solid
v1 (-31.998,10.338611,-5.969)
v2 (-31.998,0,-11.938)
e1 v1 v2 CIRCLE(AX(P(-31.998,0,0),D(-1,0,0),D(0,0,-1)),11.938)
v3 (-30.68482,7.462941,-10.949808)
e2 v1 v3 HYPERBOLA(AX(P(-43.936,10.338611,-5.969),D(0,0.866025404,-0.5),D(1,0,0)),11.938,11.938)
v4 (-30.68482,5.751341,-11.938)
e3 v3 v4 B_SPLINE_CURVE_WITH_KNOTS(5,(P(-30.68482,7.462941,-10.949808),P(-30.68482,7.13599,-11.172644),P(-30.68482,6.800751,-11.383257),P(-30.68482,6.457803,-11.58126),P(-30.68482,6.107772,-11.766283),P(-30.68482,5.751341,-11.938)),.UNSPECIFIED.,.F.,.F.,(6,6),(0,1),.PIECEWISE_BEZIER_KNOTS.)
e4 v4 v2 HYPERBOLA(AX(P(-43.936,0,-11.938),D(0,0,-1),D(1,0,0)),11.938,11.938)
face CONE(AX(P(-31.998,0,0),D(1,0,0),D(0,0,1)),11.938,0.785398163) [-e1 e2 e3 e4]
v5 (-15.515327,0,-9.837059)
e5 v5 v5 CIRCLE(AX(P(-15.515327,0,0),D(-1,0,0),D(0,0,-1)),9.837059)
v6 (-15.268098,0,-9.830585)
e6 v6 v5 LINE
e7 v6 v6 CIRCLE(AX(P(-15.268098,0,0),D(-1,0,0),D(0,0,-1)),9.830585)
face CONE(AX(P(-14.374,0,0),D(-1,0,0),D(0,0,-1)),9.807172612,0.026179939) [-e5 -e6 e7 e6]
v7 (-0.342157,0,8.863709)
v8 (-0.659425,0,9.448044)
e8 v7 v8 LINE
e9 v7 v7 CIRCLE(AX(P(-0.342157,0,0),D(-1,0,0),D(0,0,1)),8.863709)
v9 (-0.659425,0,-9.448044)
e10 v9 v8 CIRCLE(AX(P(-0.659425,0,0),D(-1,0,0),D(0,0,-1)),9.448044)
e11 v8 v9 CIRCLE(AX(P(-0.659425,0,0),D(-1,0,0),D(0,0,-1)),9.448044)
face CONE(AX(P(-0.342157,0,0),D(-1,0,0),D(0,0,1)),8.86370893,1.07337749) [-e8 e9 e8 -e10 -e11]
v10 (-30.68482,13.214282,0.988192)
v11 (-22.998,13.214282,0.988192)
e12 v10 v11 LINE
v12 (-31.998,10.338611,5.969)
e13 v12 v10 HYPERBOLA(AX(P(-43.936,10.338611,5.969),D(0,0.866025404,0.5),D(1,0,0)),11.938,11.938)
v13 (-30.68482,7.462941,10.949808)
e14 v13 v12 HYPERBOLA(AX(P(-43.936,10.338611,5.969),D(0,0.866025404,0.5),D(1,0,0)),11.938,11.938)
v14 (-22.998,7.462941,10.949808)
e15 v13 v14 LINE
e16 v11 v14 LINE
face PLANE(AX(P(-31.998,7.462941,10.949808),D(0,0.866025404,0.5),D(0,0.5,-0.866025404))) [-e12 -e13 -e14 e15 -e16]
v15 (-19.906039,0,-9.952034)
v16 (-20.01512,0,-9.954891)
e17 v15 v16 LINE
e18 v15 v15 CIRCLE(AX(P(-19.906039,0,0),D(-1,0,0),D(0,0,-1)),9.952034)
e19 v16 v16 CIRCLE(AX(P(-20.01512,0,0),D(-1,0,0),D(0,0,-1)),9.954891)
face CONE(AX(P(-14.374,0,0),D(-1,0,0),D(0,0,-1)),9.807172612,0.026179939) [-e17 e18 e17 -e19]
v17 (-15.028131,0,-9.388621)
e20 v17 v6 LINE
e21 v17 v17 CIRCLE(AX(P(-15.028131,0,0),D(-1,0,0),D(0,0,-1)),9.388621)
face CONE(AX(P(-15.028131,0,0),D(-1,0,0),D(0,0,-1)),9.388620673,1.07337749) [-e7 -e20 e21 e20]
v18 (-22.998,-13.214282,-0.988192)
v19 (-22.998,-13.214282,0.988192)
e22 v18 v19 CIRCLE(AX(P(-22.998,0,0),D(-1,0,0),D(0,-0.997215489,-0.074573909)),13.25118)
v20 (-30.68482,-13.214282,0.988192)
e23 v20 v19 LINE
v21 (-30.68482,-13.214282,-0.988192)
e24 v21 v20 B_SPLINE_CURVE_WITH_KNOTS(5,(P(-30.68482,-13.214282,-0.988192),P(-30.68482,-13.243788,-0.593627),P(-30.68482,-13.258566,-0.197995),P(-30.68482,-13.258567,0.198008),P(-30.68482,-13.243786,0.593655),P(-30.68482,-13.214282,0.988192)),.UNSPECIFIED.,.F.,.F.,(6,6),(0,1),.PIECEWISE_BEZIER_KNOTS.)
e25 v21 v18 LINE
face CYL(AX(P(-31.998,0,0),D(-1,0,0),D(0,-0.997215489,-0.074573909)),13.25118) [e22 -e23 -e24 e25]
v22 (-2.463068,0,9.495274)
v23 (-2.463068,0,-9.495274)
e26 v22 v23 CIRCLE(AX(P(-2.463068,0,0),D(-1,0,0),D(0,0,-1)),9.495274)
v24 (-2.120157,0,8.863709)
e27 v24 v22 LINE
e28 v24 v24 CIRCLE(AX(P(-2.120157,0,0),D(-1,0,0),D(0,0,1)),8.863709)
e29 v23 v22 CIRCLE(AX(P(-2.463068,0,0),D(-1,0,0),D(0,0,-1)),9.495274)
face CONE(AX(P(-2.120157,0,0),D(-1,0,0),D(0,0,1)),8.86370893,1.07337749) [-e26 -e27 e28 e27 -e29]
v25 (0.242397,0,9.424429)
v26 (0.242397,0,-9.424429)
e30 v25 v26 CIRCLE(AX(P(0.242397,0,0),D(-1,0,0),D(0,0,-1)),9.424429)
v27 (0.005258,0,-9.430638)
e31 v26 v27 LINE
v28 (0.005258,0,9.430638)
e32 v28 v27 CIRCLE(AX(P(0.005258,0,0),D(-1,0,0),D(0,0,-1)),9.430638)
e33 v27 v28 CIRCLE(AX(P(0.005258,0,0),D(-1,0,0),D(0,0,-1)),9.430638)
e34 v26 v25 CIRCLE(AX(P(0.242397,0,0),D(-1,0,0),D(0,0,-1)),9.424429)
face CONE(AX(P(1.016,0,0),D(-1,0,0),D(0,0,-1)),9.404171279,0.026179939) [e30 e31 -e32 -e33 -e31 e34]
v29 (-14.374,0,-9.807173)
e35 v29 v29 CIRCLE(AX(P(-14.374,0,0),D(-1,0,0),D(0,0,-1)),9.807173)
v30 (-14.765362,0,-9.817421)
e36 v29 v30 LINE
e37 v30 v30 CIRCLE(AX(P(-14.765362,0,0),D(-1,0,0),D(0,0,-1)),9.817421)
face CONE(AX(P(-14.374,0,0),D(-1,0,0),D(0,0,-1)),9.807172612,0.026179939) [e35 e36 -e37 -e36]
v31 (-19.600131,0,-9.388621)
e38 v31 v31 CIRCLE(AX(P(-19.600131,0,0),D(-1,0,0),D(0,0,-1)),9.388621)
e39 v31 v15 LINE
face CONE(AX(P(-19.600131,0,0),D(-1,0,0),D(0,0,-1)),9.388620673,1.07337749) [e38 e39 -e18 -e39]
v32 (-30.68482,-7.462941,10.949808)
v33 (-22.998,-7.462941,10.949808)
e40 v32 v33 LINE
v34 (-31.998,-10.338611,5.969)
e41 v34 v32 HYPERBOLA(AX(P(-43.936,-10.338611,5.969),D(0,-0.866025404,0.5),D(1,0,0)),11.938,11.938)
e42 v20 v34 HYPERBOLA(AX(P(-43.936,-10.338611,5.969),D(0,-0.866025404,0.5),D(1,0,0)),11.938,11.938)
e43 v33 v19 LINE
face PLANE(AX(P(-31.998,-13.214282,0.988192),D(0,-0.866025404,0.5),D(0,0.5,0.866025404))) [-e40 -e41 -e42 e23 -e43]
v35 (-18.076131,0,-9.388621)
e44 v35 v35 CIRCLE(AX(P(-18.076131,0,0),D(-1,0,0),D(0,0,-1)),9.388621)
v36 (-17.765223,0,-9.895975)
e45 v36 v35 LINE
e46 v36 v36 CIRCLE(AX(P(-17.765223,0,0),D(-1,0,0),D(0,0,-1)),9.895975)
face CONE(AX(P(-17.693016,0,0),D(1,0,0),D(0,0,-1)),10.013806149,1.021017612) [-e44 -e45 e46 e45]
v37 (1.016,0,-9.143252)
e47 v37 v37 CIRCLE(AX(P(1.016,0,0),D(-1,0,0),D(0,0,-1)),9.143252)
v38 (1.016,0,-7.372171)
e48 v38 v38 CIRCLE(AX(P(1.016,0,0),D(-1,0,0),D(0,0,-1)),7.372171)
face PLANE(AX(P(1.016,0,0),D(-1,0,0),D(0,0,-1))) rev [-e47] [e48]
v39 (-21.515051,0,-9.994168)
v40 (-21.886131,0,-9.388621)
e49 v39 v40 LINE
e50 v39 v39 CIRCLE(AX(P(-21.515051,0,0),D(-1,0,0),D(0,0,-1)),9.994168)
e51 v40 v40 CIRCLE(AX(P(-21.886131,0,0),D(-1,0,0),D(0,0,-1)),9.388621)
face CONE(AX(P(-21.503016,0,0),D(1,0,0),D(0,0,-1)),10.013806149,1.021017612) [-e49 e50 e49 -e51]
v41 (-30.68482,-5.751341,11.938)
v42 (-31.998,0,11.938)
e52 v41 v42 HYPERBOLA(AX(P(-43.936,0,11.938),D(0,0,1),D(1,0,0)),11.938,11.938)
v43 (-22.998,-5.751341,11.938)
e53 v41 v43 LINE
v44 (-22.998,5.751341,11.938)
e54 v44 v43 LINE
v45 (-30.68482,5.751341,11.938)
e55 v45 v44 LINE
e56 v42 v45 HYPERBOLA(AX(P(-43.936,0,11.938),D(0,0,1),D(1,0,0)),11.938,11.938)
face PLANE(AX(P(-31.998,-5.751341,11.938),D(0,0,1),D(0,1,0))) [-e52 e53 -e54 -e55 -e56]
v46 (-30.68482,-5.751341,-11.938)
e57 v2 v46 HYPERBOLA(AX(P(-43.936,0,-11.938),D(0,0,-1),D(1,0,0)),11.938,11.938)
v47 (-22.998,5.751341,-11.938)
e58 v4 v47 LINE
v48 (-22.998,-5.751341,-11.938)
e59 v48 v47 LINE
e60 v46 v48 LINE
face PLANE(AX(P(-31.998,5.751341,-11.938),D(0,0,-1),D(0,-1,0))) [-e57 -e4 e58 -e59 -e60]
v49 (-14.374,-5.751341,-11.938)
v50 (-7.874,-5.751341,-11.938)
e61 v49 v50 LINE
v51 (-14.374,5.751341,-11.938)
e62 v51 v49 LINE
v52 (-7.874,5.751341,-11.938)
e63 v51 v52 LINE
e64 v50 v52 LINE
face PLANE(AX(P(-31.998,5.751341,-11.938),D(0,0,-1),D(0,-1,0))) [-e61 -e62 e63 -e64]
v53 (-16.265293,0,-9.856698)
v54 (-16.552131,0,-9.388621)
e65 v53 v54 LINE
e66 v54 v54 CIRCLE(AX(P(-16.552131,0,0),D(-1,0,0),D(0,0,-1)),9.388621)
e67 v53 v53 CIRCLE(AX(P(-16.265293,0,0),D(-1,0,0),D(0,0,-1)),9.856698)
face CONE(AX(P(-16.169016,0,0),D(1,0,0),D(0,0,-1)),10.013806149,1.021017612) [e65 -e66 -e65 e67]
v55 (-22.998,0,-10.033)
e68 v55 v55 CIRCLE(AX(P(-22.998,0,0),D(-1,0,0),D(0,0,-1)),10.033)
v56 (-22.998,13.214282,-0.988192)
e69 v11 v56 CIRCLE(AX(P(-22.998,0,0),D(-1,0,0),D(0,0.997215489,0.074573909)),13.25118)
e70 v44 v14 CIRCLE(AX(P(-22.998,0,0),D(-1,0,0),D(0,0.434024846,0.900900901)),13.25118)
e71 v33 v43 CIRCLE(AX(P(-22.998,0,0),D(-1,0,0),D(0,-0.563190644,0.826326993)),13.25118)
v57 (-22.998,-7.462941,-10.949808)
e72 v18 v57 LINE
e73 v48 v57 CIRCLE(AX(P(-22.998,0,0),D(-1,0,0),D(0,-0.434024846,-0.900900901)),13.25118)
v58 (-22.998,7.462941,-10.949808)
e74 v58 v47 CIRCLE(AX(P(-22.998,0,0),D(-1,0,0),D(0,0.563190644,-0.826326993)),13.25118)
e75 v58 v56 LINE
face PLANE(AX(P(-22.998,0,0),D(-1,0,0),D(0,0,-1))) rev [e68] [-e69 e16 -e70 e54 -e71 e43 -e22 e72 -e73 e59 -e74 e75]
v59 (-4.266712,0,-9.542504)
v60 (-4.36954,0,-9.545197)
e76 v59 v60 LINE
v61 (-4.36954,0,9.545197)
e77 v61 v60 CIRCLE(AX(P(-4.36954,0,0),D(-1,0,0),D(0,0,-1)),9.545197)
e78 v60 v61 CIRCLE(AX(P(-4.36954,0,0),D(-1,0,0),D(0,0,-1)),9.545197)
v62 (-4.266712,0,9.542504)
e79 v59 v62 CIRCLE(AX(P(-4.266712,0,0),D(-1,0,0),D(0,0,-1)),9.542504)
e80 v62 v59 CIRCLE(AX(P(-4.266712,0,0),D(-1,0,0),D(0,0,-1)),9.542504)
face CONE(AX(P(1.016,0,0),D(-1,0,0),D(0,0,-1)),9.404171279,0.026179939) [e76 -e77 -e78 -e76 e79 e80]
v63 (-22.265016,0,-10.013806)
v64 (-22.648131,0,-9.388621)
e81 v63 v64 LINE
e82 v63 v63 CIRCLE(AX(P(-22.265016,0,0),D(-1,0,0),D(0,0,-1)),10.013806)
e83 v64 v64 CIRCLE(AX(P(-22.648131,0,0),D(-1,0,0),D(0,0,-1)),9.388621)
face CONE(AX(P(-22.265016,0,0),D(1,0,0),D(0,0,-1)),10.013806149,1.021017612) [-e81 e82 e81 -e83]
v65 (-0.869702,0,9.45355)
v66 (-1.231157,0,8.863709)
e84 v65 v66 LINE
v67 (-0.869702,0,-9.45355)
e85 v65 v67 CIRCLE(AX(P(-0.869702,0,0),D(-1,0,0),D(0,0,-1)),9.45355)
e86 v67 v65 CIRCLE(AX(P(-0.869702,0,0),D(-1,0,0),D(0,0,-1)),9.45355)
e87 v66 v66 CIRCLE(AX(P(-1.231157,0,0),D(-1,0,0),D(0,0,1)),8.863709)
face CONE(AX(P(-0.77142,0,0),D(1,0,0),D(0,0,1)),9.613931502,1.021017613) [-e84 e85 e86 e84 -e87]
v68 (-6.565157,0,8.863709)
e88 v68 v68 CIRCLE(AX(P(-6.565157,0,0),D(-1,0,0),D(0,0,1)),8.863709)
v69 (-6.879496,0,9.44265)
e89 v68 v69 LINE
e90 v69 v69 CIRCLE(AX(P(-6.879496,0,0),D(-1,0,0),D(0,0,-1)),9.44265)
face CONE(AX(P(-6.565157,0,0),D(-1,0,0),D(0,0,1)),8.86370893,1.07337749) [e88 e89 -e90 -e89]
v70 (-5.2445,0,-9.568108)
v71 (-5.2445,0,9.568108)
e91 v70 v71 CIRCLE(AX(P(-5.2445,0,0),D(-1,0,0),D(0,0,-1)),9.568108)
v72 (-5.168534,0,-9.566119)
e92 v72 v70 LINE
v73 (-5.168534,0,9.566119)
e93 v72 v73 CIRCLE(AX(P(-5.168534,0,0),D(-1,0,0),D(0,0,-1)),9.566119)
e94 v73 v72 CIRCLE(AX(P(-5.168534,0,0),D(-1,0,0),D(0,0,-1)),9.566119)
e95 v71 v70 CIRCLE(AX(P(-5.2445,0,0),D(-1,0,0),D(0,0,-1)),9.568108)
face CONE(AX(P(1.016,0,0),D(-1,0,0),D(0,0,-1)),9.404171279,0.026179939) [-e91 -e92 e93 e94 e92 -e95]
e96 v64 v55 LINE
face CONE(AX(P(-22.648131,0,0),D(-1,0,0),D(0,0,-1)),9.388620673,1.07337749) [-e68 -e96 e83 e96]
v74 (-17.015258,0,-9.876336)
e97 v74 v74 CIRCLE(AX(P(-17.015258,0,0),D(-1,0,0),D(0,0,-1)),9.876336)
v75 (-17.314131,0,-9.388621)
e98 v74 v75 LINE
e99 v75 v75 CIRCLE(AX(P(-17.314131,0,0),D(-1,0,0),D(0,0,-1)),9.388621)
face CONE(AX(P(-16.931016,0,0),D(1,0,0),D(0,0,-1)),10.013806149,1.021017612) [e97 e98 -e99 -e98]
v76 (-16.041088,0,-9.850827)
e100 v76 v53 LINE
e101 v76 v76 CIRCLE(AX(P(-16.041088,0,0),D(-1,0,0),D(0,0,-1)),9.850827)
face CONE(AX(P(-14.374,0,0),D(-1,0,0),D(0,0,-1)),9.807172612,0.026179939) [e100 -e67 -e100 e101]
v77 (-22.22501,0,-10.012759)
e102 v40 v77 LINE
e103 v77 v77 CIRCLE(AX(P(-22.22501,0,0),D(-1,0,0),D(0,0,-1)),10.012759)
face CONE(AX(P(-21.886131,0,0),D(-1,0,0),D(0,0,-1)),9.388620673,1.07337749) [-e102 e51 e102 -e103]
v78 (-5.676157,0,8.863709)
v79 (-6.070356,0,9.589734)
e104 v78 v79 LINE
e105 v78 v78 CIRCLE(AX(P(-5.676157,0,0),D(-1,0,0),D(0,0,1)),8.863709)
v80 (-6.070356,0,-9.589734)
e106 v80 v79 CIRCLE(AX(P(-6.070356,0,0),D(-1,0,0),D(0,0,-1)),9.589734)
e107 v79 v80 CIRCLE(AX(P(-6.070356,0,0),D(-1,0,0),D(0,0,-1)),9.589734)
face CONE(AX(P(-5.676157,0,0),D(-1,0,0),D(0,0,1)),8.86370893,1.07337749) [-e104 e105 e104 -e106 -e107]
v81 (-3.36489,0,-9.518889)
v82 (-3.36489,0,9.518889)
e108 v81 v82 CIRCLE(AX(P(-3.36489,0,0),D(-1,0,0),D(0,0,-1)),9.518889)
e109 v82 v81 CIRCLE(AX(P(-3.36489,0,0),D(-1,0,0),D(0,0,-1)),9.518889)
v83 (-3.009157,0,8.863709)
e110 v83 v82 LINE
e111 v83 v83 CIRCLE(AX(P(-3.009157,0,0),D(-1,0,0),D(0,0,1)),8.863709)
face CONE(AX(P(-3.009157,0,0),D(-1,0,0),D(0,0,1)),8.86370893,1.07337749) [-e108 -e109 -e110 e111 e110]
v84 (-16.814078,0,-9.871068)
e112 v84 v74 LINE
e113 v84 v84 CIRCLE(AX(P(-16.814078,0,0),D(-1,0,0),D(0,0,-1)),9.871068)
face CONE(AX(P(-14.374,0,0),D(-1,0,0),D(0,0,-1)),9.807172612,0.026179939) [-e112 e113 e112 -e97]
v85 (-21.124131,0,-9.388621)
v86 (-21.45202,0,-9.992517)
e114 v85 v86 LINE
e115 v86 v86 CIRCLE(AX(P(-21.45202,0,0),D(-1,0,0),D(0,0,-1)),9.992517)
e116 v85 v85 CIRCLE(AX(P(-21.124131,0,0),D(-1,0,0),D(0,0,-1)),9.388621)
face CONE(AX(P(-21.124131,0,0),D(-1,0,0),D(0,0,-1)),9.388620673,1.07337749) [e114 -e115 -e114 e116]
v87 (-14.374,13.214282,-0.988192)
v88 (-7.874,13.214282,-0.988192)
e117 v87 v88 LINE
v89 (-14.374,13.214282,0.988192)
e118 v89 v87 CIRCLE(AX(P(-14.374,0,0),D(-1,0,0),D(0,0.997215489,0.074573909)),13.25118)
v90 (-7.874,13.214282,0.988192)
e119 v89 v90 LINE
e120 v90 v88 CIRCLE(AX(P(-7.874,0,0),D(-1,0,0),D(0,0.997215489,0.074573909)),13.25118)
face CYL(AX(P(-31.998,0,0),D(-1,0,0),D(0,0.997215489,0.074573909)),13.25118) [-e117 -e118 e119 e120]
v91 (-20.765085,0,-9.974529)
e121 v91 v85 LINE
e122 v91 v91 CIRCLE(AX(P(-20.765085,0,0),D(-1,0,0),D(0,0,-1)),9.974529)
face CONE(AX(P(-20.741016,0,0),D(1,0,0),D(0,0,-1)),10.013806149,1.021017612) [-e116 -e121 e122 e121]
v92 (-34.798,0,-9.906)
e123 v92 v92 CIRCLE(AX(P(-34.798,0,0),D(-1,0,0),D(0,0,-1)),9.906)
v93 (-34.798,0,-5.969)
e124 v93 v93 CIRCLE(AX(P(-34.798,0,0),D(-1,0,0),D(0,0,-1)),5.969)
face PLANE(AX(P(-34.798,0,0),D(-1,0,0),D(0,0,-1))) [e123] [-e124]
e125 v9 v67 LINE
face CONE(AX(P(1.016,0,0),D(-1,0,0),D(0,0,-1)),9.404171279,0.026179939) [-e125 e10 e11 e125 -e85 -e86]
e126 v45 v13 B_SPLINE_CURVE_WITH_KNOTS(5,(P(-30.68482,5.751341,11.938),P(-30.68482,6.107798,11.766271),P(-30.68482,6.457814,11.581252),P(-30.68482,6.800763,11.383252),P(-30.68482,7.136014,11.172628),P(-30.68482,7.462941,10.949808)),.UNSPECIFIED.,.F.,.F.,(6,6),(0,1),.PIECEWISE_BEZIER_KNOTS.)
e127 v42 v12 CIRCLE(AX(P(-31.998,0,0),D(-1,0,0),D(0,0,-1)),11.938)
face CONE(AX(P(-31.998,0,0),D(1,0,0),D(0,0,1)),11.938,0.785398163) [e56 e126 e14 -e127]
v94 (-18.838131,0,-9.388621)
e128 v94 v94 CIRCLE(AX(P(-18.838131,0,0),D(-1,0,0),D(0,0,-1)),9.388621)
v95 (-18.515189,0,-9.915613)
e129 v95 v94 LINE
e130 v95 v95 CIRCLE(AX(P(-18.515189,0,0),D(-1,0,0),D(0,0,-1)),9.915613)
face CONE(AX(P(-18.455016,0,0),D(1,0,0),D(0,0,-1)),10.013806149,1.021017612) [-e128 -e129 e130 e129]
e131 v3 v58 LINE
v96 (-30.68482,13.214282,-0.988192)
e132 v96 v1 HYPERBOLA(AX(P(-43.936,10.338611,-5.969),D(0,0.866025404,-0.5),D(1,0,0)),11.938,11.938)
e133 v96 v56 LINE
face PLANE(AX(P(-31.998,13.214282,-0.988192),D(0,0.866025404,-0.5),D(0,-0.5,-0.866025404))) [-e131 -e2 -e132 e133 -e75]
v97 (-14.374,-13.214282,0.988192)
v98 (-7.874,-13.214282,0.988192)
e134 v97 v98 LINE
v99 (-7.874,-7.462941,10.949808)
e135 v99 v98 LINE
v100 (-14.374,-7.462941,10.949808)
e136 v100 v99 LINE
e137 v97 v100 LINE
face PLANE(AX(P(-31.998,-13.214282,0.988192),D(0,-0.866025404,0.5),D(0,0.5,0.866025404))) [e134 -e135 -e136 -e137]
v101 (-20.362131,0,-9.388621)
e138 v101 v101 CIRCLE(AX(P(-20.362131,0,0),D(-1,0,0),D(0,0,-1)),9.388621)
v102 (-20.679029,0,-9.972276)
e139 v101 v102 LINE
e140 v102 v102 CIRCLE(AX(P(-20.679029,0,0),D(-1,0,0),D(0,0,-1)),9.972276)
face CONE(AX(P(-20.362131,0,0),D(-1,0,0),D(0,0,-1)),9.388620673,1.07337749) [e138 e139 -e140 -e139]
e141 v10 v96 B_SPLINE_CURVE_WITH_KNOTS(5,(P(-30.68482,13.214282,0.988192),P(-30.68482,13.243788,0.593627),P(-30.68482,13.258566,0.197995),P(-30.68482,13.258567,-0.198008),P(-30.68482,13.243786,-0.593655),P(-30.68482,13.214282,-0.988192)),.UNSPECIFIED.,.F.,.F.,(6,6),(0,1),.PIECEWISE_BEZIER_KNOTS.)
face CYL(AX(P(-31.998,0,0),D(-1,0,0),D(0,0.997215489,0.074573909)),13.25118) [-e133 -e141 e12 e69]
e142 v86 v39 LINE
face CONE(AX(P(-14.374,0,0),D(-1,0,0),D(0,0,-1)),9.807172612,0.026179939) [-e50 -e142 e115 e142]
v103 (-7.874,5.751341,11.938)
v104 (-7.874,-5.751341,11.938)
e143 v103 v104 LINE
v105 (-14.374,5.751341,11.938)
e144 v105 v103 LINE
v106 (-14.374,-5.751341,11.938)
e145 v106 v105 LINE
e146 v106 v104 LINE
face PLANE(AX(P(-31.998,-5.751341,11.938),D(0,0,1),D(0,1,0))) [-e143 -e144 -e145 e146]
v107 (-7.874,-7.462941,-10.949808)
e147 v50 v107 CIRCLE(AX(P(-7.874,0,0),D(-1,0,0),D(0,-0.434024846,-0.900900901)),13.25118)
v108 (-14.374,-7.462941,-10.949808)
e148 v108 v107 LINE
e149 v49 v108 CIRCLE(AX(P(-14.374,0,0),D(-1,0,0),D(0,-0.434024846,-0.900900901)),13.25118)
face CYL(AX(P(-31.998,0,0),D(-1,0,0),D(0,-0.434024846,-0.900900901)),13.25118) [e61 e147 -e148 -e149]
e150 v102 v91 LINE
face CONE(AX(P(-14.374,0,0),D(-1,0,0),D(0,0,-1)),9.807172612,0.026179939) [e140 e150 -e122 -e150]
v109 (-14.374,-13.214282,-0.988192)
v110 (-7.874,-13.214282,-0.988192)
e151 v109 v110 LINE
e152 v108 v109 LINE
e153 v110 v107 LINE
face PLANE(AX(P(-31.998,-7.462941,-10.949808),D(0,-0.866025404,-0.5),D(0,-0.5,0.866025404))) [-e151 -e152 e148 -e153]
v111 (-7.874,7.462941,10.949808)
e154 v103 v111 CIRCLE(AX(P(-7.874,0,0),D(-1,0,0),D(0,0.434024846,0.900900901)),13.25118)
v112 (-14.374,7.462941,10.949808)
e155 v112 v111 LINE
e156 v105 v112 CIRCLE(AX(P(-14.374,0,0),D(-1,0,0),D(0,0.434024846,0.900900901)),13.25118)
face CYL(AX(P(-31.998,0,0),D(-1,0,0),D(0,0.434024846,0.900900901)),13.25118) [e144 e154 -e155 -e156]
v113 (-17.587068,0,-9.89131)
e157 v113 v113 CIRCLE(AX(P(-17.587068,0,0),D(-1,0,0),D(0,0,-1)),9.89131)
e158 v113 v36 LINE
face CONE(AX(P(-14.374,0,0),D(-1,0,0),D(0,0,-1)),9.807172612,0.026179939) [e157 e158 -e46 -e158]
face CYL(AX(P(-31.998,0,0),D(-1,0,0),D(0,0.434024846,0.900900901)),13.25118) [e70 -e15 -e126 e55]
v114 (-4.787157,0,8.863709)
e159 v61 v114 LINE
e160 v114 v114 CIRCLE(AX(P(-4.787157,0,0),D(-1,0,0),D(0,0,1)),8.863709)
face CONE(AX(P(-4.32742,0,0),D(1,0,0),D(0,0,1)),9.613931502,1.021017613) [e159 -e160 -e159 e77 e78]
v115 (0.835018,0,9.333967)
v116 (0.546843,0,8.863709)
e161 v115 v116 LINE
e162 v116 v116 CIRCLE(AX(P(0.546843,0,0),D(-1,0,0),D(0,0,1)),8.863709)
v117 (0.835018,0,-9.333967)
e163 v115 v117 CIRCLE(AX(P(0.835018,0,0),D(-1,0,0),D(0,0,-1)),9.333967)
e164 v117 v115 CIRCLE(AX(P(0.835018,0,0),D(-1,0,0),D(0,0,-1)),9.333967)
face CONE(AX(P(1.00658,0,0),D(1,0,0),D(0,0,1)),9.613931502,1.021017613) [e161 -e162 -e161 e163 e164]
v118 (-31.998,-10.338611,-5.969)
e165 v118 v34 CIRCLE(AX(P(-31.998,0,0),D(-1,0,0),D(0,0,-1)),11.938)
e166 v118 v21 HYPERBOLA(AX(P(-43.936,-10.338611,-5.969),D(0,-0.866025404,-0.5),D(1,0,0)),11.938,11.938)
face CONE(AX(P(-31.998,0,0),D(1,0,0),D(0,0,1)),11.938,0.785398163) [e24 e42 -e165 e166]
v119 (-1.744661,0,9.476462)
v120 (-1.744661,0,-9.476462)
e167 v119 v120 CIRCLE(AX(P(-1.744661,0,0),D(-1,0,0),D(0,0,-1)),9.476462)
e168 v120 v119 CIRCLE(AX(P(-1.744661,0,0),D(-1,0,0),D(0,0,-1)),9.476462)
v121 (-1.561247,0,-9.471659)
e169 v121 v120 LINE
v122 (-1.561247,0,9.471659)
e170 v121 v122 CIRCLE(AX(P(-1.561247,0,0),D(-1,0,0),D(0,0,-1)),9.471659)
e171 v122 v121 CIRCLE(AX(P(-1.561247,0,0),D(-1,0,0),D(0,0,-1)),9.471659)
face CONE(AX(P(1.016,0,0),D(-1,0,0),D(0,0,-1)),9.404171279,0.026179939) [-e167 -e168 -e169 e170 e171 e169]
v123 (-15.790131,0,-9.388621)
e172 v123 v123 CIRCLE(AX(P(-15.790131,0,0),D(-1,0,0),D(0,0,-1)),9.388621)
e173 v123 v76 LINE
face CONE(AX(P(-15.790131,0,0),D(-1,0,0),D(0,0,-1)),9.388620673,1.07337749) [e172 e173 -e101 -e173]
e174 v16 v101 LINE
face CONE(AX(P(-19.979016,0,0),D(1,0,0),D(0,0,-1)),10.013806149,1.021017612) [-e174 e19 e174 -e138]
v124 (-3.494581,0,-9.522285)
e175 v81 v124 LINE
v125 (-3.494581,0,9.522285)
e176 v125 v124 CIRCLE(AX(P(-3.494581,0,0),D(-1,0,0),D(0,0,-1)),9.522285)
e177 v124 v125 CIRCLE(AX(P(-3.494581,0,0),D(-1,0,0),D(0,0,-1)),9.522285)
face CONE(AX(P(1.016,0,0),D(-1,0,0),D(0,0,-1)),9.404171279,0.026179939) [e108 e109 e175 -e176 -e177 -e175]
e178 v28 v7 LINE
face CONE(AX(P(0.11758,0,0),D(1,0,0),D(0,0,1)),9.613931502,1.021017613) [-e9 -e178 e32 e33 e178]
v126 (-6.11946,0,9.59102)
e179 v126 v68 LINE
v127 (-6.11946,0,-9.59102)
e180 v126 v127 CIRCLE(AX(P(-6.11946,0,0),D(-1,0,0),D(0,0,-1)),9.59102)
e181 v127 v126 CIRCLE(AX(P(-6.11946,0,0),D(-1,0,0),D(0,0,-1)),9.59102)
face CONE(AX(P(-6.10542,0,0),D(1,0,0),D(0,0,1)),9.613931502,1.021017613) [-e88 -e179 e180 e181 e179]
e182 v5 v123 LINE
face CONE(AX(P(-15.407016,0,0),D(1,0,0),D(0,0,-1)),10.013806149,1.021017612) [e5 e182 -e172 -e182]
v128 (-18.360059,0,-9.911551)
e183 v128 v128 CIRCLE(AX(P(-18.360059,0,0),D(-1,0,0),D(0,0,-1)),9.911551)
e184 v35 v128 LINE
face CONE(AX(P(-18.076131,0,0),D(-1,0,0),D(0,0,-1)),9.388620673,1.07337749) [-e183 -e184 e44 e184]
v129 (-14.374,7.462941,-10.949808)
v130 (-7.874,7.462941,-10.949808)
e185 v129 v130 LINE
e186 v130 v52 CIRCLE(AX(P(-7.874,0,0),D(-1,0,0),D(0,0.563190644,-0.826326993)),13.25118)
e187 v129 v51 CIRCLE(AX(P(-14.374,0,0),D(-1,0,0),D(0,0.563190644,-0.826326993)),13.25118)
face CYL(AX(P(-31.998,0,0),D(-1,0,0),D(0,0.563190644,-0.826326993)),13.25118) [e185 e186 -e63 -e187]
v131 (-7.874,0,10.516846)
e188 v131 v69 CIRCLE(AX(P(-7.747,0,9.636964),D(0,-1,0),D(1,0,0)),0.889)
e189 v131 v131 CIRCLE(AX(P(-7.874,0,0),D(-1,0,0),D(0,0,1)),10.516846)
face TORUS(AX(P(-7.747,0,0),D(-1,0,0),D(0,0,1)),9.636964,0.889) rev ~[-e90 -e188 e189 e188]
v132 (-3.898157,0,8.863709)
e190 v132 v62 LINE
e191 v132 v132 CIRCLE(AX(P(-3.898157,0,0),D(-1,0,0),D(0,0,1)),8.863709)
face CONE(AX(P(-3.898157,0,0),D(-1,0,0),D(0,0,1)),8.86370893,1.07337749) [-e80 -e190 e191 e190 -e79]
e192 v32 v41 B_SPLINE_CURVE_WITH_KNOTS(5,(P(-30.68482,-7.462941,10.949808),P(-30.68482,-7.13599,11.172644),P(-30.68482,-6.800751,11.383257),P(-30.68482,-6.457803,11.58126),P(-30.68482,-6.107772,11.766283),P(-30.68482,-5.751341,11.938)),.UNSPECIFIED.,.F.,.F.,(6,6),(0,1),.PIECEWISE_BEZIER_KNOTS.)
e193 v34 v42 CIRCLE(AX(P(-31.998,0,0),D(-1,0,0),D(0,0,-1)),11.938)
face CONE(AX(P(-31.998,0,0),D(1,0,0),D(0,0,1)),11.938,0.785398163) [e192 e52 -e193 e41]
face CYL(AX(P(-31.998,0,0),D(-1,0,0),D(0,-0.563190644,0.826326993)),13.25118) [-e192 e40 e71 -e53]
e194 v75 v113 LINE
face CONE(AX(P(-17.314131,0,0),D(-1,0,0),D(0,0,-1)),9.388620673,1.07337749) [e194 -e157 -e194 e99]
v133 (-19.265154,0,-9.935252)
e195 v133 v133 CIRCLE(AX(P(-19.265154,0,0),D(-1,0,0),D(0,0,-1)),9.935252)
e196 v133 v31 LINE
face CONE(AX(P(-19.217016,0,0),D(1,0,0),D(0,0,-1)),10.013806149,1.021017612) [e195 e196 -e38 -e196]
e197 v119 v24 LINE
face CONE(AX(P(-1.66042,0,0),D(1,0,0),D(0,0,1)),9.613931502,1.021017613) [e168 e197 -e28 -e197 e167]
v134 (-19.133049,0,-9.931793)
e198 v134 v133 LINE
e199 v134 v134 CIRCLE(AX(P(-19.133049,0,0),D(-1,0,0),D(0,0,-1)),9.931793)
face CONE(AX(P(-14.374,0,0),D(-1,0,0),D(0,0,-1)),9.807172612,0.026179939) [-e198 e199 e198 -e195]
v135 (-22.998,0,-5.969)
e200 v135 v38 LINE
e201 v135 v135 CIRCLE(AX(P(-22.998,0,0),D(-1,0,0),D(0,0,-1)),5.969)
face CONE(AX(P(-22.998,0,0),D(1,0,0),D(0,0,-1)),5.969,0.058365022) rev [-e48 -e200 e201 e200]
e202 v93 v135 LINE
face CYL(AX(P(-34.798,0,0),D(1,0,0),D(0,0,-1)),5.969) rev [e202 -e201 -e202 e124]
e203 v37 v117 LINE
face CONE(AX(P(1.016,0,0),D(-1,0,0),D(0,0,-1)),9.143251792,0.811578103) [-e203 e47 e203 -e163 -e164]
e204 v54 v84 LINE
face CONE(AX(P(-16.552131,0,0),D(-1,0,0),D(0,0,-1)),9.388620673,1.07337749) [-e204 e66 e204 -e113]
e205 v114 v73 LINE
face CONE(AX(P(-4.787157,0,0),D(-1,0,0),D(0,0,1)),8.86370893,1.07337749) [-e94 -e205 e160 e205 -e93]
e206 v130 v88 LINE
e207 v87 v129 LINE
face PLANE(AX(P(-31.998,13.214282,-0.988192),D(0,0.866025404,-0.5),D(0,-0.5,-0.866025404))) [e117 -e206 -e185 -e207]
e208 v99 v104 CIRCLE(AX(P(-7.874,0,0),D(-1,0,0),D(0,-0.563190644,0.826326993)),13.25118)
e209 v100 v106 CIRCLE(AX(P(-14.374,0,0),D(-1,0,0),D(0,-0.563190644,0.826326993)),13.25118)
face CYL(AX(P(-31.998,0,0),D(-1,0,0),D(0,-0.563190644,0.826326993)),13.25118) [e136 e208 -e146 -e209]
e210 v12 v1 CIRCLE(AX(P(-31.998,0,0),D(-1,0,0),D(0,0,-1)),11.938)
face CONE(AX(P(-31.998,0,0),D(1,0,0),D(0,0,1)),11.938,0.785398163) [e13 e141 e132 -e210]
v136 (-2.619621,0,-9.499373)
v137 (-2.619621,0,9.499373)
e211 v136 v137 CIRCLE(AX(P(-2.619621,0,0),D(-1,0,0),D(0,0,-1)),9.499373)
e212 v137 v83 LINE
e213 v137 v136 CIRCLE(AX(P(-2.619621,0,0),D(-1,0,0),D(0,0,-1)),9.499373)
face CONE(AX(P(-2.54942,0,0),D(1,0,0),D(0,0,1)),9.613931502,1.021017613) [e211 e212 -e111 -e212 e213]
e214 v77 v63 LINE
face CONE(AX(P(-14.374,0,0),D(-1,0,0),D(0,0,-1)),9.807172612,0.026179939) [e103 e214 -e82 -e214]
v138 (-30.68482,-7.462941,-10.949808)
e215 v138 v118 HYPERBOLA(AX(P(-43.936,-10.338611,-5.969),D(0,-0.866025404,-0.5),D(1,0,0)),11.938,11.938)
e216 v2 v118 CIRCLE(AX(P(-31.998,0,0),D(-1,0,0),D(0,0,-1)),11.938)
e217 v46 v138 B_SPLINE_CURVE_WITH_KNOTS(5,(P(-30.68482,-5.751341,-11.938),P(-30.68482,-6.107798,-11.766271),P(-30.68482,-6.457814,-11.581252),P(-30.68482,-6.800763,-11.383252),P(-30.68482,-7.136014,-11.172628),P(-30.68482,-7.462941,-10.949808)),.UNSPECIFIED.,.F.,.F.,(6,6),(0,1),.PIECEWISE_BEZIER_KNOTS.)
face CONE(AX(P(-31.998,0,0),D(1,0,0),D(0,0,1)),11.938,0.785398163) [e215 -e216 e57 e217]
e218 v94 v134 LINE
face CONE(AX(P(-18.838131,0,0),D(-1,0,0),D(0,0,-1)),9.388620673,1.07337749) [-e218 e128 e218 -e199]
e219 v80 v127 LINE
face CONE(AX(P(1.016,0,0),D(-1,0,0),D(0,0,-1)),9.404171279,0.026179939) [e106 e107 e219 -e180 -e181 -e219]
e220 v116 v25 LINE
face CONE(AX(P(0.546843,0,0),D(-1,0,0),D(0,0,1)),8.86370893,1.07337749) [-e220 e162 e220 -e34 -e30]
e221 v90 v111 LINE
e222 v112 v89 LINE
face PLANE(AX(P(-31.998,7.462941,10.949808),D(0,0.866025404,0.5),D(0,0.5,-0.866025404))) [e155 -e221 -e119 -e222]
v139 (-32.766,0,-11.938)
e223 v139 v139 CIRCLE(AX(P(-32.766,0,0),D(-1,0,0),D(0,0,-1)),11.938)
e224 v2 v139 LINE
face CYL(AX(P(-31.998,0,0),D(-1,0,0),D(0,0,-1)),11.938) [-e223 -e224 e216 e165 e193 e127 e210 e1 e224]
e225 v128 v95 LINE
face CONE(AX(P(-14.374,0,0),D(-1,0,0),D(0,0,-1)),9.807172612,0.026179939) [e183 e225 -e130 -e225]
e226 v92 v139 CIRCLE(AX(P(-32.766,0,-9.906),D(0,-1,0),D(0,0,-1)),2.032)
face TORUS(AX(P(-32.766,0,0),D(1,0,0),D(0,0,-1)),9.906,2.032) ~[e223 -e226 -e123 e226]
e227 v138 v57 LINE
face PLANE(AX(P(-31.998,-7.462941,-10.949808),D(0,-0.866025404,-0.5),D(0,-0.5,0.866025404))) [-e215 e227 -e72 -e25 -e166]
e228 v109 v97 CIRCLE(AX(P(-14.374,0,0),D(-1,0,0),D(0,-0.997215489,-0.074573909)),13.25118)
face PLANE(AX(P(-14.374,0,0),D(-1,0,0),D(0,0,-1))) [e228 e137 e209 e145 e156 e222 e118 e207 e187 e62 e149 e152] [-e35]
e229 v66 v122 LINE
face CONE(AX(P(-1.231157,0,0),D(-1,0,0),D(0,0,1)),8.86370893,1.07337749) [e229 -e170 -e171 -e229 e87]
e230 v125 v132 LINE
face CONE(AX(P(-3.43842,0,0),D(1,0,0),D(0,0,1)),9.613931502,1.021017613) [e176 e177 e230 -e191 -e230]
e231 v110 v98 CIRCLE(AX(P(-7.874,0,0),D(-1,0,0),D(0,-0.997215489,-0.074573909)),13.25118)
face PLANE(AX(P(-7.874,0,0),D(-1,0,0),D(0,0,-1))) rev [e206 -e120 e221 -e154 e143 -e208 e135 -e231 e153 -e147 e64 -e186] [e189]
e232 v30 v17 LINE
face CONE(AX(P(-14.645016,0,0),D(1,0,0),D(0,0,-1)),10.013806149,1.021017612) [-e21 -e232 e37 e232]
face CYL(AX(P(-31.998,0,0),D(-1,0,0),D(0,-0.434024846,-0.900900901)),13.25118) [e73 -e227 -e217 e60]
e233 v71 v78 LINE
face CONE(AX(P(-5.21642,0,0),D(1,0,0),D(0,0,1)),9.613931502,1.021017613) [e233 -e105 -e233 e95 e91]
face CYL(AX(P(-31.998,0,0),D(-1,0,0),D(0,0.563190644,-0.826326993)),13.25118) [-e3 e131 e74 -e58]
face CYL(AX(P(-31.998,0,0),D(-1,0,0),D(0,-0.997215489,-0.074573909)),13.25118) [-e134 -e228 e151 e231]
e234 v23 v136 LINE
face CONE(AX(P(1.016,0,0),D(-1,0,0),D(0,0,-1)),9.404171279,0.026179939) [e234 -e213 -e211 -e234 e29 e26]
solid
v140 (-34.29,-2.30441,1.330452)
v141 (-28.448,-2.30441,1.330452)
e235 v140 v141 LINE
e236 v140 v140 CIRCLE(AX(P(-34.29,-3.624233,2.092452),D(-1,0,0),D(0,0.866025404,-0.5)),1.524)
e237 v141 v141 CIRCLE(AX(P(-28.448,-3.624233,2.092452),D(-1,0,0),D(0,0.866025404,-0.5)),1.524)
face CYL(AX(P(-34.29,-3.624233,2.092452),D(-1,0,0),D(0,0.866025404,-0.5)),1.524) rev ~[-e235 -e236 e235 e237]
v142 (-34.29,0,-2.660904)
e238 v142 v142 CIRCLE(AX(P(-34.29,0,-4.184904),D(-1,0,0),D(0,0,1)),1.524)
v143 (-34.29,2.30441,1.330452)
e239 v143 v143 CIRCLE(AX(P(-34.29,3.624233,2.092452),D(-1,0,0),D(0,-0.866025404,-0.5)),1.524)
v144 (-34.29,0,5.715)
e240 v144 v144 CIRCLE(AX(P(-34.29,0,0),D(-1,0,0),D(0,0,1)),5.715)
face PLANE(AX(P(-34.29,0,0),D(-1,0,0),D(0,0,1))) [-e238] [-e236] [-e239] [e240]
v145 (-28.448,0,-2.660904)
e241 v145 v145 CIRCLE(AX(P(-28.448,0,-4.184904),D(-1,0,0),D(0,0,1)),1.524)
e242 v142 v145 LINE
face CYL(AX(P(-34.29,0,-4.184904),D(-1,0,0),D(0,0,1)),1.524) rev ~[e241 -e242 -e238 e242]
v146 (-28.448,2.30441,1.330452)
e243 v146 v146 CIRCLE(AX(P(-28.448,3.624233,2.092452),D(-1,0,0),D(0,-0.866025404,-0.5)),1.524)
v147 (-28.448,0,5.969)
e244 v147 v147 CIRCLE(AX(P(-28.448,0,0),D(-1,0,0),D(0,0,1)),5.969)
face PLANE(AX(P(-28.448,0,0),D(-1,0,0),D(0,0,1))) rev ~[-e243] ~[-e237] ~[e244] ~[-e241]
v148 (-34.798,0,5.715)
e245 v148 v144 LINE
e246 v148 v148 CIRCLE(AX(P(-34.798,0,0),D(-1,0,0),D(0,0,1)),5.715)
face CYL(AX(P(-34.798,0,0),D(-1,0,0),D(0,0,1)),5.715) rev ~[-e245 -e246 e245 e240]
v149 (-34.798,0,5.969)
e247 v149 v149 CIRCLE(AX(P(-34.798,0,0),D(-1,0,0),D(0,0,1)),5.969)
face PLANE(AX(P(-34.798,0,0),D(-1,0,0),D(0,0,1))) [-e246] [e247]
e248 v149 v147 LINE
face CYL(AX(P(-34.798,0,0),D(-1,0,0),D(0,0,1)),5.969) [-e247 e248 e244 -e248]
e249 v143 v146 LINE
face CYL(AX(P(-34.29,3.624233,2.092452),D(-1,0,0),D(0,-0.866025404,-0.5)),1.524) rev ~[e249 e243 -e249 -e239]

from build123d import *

# Parameters (mm, degrees)
SKETCH12_OUTSIDE_W = 65.04
SKETCH12_OUTSIDE_H = 65.04
CUT_EXTRUDE2_DEPTH = 34.014
FILLET4_R          = 2.032
SKETCH19_OUTSIDE_W = 39.986
SKETCH19_OUTSIDE_H = 42.612
SKETCH19_OUTSIDE_R = 11.938
CUT_EXTRUDE3_DEPTH = 1.999996
CUT_EXTRUDE3_DRAFT = -45
CHAMFER1_SIZE      = 0.260919487
CHAMFER1_SIZE2     = 0.254
SKETCH21_R         = 5.969
PLUG_DEPTH         = 6.35
SKETCH22_R         = 5.715
CUT_EXTRUDE4_DEPTH = 0.508
SKETCH27_R         = 1.524
PLUGHOLES_DEPTH    = 36.306
CIRPATTERN1_COUNT  = 3
LPATTERN1_COUNT    = 11
LPATTERN1_PITCH    = 0.762
LPATTERN2_COUNT    = 10
LPATTERN2_PITCH    = 0.889
SKETCH32_R         = 0.889


with BuildPart() as part:
    # Sketch10 → Revolve2 (revolve)
    with BuildSketch(Plane.XY, mode=Mode.PRIVATE) as revolve2_sk:
        Polygon((-34.798, 5.969), (-22.998, 5.969), (1.016, 7.372171279), (1.016, 9.404171279), (-7.874, 9.636964122), (-7.874, 23.876), (-14.374, 23.876), (-14.374, 9.807172612), (-22.998, 10.033), (-22.998, 23.876), (-31.998, 23.876), (-31.998, 11.938), (-34.798, 11.938), align=None)
    revolve(revolve2_sk.sketch.rotate(Axis((0, 0, 0), (-1, 0, 0)), 90), axis=Axis((0, 0, 0), (-1, 0, 0)))  # turned: the seam where the file's is

    # Sketch12 outside → Cut-Extrude2 (cut, through all)
    with BuildSketch(Plane.ZY.offset(31.998)):
        Rectangle(SKETCH12_OUTSIDE_W, SKETCH12_OUTSIDE_H)
        with BuildLine():
            Line((-0.98819228, 13.214281948), (-10.94980772, 7.462940592))
            ThreePointArc((-10.94980772, 7.462940592), (-11.47585851, 6.62559), (-11.938, 5.751341356))
            Line((-11.938, 5.751341356), (-11.938, -5.751341356))
            ThreePointArc((-11.938, -5.751341356), (-11.47585851, -6.62559), (-10.94980772, -7.462940592))
            Line((-10.94980772, -7.462940592), (-0.98819228, -13.214281948))
            ThreePointArc((-0.98819228, -13.214281948), (0, -13.25118), (0.98819228, -13.214281948))
            Line((0.98819228, -13.214281948), (10.94980772, -7.462940592))
            ThreePointArc((10.94980772, -7.462940592), (11.47585851, -6.62559), (11.938, -5.751341356))
            Line((11.938, -5.751341356), (11.938, 5.751341356))
            ThreePointArc((11.938, 5.751341356), (11.47585851, 6.62559), (10.94980772, 7.462940592))
            Line((10.94980772, 7.462940592), (0.98819228, 13.214281948))
            ThreePointArc((0.98819228, 13.214281948), (0, 13.25118), (-0.98819228, 13.214281948))
        make_face(mode=Mode.SUBTRACT)
    extrude(amount=-CUT_EXTRUDE2_DEPTH, mode=Mode.SUBTRACT)

    # Fillet4
    fillet4_edges = [part.edges().sort_by_distance(p)[0] for p in [
        (-34.798, 0, 11.938),
    ]]
    fillet(fillet4_edges, radius=FILLET4_R)


with BuildPart() as cut_extrude3_tool:
    # Sketch19 outside → Cut-Extrude3 (with draft: the straight prism first)
    with BuildSketch(Plane.ZY.offset(31.998)):
        Rectangle(SKETCH19_OUTSIDE_W, SKETCH19_OUTSIDE_H)
        Circle(SKETCH19_OUTSIDE_R, mode=Mode.SUBTRACT)
    extrude(amount=-CUT_EXTRUDE3_DEPTH)
    # Cut-Extrude3: the draft: its side faces are tilted about the plane it starts from
    cut_extrude3_sides = [cut_extrude3_tool.faces().sort_by_distance(p)[0] for p in [
        (-30.998002, -21.306, 0),
        (-30.998002, 0, 19.993),
        (-30.998002, 21.306, 0),
        (-30.998002, 0, -19.993),
        (-30.998002, 0, -11.938),
    ]]
    draft(cut_extrude3_sides, Plane.ZY.offset(31.998), CUT_EXTRUDE3_DRAFT)


with BuildPart() as part_1:
    add(part.part)

    # Cut-Extrude3: cut by cut_extrude3_tool
    add(cut_extrude3_tool.part, mode=Mode.SUBTRACT)

    # Chamfer1
    chamfer1_edges = [part_1.edges().sort_by_distance(p)[0] for p in [
        (1.016, 0, 9.404171279),
    ]]
    chamfer1_side = [part_1.faces().sort_by_distance(p)[0] for p in [
        (1.016, 0, 7.638161411),
    ]]
    chamfer(chamfer1_edges, length=CHAMFER1_SIZE, length2=CHAMFER1_SIZE2, reference=chamfer1_side[0])

    # Sketch29 → Cut-Revolve1 (revolve, cut)
    with BuildSketch(Plane.XY, mode=Mode.PRIVATE) as cut_revolve1_sk:
        Polygon((-22.998, 10.033), (-22.265016419, 10.013806149), (-22.648130572, 9.388620673), align=None)
    cut_revolve1 = revolve(cut_revolve1_sk.sketch.rotate(Axis((0, 0, 0), (-1, 0, 0)), 90), axis=Axis((0, 0, 0), (-1, 0, 0)), mode=Mode.SUBTRACT)  # turned: the seam where the file's is

    # LPattern1: Cut-Revolve1 ×11
    with Locations(*[(i * LPATTERN1_PITCH, 0, 0) for i in range(1, LPATTERN1_COUNT)]):
        add(cut_revolve1, mode=Mode.SUBTRACT)

    # Sketch30 → Cut-Revolve2 (revolve, cut)
    with BuildSketch(Plane.XY, mode=Mode.PRIVATE) as cut_revolve2_sk:
        Polygon((-7.874, 9.636964122), (-6.994419703, 9.613931502), (-7.454156686, 8.86370893), align=None)
    cut_revolve2 = revolve(cut_revolve2_sk.sketch.rotate(Axis((0, 0, 0), (-1, 0, 0)), 270), axis=Axis((0, 0, 0), (-1, 0, 0)), mode=Mode.SUBTRACT)  # turned: the seam where the file's is

    # LPattern2: Cut-Revolve2 ×10
    with Locations(*[(i * LPATTERN2_PITCH, 0, 0) for i in range(1, LPATTERN2_COUNT)]):
        add(cut_revolve2, mode=Mode.SUBTRACT)

    # Sketch32 → Cut-Revolve3 (revolve, cut)
    with BuildSketch(Plane.XY, mode=Mode.PRIVATE) as cut_revolve3_sk:
        with Locations((-7.747, 9.636964122)):
            Circle(SKETCH32_R)
    revolve(cut_revolve3_sk.sketch.rotate(Axis((0, 0, 0), (-1, 0, 0)), 270), axis=Axis((0, 0, 0), (-1, 0, 0)), mode=Mode.SUBTRACT)  # turned: the seam where the file's is


with BuildPart() as body_2:
    # Sketch21 → plug (new body)
    with BuildSketch(Plane.ZY.offset(34.798)):
        Circle(SKETCH21_R)
    extrude(amount=-PLUG_DEPTH)

    # Sketch22 → Cut-Extrude4 (cut)
    with BuildSketch(Plane.ZY.offset(34.798)):
        Circle(SKETCH22_R)
    extrude(amount=-CUT_EXTRUDE4_DEPTH, mode=Mode.SUBTRACT)

    # Sketch27 → plugholes (cut, through all)
    with BuildSketch(Plane.ZY.offset(34.29)):
        with Locations((-4.184904, 0)):
            Circle(SKETCH27_R)
    plugholes = extrude(amount=-PLUGHOLES_DEPTH, mode=Mode.SUBTRACT)

    # CirPattern1: plugholes ×3 about axis
    cirpattern1_axis = Axis((0, 0, 0), (1, 0, 0))
    for i in range(1, CIRPATTERN1_COUNT):
        add(plugholes.rotate(cirpattern1_axis, i * 360 / CIRPATTERN1_COUNT), mode=Mode.SUBTRACT)


solid = Compound([part_1.part, body_2.part])
